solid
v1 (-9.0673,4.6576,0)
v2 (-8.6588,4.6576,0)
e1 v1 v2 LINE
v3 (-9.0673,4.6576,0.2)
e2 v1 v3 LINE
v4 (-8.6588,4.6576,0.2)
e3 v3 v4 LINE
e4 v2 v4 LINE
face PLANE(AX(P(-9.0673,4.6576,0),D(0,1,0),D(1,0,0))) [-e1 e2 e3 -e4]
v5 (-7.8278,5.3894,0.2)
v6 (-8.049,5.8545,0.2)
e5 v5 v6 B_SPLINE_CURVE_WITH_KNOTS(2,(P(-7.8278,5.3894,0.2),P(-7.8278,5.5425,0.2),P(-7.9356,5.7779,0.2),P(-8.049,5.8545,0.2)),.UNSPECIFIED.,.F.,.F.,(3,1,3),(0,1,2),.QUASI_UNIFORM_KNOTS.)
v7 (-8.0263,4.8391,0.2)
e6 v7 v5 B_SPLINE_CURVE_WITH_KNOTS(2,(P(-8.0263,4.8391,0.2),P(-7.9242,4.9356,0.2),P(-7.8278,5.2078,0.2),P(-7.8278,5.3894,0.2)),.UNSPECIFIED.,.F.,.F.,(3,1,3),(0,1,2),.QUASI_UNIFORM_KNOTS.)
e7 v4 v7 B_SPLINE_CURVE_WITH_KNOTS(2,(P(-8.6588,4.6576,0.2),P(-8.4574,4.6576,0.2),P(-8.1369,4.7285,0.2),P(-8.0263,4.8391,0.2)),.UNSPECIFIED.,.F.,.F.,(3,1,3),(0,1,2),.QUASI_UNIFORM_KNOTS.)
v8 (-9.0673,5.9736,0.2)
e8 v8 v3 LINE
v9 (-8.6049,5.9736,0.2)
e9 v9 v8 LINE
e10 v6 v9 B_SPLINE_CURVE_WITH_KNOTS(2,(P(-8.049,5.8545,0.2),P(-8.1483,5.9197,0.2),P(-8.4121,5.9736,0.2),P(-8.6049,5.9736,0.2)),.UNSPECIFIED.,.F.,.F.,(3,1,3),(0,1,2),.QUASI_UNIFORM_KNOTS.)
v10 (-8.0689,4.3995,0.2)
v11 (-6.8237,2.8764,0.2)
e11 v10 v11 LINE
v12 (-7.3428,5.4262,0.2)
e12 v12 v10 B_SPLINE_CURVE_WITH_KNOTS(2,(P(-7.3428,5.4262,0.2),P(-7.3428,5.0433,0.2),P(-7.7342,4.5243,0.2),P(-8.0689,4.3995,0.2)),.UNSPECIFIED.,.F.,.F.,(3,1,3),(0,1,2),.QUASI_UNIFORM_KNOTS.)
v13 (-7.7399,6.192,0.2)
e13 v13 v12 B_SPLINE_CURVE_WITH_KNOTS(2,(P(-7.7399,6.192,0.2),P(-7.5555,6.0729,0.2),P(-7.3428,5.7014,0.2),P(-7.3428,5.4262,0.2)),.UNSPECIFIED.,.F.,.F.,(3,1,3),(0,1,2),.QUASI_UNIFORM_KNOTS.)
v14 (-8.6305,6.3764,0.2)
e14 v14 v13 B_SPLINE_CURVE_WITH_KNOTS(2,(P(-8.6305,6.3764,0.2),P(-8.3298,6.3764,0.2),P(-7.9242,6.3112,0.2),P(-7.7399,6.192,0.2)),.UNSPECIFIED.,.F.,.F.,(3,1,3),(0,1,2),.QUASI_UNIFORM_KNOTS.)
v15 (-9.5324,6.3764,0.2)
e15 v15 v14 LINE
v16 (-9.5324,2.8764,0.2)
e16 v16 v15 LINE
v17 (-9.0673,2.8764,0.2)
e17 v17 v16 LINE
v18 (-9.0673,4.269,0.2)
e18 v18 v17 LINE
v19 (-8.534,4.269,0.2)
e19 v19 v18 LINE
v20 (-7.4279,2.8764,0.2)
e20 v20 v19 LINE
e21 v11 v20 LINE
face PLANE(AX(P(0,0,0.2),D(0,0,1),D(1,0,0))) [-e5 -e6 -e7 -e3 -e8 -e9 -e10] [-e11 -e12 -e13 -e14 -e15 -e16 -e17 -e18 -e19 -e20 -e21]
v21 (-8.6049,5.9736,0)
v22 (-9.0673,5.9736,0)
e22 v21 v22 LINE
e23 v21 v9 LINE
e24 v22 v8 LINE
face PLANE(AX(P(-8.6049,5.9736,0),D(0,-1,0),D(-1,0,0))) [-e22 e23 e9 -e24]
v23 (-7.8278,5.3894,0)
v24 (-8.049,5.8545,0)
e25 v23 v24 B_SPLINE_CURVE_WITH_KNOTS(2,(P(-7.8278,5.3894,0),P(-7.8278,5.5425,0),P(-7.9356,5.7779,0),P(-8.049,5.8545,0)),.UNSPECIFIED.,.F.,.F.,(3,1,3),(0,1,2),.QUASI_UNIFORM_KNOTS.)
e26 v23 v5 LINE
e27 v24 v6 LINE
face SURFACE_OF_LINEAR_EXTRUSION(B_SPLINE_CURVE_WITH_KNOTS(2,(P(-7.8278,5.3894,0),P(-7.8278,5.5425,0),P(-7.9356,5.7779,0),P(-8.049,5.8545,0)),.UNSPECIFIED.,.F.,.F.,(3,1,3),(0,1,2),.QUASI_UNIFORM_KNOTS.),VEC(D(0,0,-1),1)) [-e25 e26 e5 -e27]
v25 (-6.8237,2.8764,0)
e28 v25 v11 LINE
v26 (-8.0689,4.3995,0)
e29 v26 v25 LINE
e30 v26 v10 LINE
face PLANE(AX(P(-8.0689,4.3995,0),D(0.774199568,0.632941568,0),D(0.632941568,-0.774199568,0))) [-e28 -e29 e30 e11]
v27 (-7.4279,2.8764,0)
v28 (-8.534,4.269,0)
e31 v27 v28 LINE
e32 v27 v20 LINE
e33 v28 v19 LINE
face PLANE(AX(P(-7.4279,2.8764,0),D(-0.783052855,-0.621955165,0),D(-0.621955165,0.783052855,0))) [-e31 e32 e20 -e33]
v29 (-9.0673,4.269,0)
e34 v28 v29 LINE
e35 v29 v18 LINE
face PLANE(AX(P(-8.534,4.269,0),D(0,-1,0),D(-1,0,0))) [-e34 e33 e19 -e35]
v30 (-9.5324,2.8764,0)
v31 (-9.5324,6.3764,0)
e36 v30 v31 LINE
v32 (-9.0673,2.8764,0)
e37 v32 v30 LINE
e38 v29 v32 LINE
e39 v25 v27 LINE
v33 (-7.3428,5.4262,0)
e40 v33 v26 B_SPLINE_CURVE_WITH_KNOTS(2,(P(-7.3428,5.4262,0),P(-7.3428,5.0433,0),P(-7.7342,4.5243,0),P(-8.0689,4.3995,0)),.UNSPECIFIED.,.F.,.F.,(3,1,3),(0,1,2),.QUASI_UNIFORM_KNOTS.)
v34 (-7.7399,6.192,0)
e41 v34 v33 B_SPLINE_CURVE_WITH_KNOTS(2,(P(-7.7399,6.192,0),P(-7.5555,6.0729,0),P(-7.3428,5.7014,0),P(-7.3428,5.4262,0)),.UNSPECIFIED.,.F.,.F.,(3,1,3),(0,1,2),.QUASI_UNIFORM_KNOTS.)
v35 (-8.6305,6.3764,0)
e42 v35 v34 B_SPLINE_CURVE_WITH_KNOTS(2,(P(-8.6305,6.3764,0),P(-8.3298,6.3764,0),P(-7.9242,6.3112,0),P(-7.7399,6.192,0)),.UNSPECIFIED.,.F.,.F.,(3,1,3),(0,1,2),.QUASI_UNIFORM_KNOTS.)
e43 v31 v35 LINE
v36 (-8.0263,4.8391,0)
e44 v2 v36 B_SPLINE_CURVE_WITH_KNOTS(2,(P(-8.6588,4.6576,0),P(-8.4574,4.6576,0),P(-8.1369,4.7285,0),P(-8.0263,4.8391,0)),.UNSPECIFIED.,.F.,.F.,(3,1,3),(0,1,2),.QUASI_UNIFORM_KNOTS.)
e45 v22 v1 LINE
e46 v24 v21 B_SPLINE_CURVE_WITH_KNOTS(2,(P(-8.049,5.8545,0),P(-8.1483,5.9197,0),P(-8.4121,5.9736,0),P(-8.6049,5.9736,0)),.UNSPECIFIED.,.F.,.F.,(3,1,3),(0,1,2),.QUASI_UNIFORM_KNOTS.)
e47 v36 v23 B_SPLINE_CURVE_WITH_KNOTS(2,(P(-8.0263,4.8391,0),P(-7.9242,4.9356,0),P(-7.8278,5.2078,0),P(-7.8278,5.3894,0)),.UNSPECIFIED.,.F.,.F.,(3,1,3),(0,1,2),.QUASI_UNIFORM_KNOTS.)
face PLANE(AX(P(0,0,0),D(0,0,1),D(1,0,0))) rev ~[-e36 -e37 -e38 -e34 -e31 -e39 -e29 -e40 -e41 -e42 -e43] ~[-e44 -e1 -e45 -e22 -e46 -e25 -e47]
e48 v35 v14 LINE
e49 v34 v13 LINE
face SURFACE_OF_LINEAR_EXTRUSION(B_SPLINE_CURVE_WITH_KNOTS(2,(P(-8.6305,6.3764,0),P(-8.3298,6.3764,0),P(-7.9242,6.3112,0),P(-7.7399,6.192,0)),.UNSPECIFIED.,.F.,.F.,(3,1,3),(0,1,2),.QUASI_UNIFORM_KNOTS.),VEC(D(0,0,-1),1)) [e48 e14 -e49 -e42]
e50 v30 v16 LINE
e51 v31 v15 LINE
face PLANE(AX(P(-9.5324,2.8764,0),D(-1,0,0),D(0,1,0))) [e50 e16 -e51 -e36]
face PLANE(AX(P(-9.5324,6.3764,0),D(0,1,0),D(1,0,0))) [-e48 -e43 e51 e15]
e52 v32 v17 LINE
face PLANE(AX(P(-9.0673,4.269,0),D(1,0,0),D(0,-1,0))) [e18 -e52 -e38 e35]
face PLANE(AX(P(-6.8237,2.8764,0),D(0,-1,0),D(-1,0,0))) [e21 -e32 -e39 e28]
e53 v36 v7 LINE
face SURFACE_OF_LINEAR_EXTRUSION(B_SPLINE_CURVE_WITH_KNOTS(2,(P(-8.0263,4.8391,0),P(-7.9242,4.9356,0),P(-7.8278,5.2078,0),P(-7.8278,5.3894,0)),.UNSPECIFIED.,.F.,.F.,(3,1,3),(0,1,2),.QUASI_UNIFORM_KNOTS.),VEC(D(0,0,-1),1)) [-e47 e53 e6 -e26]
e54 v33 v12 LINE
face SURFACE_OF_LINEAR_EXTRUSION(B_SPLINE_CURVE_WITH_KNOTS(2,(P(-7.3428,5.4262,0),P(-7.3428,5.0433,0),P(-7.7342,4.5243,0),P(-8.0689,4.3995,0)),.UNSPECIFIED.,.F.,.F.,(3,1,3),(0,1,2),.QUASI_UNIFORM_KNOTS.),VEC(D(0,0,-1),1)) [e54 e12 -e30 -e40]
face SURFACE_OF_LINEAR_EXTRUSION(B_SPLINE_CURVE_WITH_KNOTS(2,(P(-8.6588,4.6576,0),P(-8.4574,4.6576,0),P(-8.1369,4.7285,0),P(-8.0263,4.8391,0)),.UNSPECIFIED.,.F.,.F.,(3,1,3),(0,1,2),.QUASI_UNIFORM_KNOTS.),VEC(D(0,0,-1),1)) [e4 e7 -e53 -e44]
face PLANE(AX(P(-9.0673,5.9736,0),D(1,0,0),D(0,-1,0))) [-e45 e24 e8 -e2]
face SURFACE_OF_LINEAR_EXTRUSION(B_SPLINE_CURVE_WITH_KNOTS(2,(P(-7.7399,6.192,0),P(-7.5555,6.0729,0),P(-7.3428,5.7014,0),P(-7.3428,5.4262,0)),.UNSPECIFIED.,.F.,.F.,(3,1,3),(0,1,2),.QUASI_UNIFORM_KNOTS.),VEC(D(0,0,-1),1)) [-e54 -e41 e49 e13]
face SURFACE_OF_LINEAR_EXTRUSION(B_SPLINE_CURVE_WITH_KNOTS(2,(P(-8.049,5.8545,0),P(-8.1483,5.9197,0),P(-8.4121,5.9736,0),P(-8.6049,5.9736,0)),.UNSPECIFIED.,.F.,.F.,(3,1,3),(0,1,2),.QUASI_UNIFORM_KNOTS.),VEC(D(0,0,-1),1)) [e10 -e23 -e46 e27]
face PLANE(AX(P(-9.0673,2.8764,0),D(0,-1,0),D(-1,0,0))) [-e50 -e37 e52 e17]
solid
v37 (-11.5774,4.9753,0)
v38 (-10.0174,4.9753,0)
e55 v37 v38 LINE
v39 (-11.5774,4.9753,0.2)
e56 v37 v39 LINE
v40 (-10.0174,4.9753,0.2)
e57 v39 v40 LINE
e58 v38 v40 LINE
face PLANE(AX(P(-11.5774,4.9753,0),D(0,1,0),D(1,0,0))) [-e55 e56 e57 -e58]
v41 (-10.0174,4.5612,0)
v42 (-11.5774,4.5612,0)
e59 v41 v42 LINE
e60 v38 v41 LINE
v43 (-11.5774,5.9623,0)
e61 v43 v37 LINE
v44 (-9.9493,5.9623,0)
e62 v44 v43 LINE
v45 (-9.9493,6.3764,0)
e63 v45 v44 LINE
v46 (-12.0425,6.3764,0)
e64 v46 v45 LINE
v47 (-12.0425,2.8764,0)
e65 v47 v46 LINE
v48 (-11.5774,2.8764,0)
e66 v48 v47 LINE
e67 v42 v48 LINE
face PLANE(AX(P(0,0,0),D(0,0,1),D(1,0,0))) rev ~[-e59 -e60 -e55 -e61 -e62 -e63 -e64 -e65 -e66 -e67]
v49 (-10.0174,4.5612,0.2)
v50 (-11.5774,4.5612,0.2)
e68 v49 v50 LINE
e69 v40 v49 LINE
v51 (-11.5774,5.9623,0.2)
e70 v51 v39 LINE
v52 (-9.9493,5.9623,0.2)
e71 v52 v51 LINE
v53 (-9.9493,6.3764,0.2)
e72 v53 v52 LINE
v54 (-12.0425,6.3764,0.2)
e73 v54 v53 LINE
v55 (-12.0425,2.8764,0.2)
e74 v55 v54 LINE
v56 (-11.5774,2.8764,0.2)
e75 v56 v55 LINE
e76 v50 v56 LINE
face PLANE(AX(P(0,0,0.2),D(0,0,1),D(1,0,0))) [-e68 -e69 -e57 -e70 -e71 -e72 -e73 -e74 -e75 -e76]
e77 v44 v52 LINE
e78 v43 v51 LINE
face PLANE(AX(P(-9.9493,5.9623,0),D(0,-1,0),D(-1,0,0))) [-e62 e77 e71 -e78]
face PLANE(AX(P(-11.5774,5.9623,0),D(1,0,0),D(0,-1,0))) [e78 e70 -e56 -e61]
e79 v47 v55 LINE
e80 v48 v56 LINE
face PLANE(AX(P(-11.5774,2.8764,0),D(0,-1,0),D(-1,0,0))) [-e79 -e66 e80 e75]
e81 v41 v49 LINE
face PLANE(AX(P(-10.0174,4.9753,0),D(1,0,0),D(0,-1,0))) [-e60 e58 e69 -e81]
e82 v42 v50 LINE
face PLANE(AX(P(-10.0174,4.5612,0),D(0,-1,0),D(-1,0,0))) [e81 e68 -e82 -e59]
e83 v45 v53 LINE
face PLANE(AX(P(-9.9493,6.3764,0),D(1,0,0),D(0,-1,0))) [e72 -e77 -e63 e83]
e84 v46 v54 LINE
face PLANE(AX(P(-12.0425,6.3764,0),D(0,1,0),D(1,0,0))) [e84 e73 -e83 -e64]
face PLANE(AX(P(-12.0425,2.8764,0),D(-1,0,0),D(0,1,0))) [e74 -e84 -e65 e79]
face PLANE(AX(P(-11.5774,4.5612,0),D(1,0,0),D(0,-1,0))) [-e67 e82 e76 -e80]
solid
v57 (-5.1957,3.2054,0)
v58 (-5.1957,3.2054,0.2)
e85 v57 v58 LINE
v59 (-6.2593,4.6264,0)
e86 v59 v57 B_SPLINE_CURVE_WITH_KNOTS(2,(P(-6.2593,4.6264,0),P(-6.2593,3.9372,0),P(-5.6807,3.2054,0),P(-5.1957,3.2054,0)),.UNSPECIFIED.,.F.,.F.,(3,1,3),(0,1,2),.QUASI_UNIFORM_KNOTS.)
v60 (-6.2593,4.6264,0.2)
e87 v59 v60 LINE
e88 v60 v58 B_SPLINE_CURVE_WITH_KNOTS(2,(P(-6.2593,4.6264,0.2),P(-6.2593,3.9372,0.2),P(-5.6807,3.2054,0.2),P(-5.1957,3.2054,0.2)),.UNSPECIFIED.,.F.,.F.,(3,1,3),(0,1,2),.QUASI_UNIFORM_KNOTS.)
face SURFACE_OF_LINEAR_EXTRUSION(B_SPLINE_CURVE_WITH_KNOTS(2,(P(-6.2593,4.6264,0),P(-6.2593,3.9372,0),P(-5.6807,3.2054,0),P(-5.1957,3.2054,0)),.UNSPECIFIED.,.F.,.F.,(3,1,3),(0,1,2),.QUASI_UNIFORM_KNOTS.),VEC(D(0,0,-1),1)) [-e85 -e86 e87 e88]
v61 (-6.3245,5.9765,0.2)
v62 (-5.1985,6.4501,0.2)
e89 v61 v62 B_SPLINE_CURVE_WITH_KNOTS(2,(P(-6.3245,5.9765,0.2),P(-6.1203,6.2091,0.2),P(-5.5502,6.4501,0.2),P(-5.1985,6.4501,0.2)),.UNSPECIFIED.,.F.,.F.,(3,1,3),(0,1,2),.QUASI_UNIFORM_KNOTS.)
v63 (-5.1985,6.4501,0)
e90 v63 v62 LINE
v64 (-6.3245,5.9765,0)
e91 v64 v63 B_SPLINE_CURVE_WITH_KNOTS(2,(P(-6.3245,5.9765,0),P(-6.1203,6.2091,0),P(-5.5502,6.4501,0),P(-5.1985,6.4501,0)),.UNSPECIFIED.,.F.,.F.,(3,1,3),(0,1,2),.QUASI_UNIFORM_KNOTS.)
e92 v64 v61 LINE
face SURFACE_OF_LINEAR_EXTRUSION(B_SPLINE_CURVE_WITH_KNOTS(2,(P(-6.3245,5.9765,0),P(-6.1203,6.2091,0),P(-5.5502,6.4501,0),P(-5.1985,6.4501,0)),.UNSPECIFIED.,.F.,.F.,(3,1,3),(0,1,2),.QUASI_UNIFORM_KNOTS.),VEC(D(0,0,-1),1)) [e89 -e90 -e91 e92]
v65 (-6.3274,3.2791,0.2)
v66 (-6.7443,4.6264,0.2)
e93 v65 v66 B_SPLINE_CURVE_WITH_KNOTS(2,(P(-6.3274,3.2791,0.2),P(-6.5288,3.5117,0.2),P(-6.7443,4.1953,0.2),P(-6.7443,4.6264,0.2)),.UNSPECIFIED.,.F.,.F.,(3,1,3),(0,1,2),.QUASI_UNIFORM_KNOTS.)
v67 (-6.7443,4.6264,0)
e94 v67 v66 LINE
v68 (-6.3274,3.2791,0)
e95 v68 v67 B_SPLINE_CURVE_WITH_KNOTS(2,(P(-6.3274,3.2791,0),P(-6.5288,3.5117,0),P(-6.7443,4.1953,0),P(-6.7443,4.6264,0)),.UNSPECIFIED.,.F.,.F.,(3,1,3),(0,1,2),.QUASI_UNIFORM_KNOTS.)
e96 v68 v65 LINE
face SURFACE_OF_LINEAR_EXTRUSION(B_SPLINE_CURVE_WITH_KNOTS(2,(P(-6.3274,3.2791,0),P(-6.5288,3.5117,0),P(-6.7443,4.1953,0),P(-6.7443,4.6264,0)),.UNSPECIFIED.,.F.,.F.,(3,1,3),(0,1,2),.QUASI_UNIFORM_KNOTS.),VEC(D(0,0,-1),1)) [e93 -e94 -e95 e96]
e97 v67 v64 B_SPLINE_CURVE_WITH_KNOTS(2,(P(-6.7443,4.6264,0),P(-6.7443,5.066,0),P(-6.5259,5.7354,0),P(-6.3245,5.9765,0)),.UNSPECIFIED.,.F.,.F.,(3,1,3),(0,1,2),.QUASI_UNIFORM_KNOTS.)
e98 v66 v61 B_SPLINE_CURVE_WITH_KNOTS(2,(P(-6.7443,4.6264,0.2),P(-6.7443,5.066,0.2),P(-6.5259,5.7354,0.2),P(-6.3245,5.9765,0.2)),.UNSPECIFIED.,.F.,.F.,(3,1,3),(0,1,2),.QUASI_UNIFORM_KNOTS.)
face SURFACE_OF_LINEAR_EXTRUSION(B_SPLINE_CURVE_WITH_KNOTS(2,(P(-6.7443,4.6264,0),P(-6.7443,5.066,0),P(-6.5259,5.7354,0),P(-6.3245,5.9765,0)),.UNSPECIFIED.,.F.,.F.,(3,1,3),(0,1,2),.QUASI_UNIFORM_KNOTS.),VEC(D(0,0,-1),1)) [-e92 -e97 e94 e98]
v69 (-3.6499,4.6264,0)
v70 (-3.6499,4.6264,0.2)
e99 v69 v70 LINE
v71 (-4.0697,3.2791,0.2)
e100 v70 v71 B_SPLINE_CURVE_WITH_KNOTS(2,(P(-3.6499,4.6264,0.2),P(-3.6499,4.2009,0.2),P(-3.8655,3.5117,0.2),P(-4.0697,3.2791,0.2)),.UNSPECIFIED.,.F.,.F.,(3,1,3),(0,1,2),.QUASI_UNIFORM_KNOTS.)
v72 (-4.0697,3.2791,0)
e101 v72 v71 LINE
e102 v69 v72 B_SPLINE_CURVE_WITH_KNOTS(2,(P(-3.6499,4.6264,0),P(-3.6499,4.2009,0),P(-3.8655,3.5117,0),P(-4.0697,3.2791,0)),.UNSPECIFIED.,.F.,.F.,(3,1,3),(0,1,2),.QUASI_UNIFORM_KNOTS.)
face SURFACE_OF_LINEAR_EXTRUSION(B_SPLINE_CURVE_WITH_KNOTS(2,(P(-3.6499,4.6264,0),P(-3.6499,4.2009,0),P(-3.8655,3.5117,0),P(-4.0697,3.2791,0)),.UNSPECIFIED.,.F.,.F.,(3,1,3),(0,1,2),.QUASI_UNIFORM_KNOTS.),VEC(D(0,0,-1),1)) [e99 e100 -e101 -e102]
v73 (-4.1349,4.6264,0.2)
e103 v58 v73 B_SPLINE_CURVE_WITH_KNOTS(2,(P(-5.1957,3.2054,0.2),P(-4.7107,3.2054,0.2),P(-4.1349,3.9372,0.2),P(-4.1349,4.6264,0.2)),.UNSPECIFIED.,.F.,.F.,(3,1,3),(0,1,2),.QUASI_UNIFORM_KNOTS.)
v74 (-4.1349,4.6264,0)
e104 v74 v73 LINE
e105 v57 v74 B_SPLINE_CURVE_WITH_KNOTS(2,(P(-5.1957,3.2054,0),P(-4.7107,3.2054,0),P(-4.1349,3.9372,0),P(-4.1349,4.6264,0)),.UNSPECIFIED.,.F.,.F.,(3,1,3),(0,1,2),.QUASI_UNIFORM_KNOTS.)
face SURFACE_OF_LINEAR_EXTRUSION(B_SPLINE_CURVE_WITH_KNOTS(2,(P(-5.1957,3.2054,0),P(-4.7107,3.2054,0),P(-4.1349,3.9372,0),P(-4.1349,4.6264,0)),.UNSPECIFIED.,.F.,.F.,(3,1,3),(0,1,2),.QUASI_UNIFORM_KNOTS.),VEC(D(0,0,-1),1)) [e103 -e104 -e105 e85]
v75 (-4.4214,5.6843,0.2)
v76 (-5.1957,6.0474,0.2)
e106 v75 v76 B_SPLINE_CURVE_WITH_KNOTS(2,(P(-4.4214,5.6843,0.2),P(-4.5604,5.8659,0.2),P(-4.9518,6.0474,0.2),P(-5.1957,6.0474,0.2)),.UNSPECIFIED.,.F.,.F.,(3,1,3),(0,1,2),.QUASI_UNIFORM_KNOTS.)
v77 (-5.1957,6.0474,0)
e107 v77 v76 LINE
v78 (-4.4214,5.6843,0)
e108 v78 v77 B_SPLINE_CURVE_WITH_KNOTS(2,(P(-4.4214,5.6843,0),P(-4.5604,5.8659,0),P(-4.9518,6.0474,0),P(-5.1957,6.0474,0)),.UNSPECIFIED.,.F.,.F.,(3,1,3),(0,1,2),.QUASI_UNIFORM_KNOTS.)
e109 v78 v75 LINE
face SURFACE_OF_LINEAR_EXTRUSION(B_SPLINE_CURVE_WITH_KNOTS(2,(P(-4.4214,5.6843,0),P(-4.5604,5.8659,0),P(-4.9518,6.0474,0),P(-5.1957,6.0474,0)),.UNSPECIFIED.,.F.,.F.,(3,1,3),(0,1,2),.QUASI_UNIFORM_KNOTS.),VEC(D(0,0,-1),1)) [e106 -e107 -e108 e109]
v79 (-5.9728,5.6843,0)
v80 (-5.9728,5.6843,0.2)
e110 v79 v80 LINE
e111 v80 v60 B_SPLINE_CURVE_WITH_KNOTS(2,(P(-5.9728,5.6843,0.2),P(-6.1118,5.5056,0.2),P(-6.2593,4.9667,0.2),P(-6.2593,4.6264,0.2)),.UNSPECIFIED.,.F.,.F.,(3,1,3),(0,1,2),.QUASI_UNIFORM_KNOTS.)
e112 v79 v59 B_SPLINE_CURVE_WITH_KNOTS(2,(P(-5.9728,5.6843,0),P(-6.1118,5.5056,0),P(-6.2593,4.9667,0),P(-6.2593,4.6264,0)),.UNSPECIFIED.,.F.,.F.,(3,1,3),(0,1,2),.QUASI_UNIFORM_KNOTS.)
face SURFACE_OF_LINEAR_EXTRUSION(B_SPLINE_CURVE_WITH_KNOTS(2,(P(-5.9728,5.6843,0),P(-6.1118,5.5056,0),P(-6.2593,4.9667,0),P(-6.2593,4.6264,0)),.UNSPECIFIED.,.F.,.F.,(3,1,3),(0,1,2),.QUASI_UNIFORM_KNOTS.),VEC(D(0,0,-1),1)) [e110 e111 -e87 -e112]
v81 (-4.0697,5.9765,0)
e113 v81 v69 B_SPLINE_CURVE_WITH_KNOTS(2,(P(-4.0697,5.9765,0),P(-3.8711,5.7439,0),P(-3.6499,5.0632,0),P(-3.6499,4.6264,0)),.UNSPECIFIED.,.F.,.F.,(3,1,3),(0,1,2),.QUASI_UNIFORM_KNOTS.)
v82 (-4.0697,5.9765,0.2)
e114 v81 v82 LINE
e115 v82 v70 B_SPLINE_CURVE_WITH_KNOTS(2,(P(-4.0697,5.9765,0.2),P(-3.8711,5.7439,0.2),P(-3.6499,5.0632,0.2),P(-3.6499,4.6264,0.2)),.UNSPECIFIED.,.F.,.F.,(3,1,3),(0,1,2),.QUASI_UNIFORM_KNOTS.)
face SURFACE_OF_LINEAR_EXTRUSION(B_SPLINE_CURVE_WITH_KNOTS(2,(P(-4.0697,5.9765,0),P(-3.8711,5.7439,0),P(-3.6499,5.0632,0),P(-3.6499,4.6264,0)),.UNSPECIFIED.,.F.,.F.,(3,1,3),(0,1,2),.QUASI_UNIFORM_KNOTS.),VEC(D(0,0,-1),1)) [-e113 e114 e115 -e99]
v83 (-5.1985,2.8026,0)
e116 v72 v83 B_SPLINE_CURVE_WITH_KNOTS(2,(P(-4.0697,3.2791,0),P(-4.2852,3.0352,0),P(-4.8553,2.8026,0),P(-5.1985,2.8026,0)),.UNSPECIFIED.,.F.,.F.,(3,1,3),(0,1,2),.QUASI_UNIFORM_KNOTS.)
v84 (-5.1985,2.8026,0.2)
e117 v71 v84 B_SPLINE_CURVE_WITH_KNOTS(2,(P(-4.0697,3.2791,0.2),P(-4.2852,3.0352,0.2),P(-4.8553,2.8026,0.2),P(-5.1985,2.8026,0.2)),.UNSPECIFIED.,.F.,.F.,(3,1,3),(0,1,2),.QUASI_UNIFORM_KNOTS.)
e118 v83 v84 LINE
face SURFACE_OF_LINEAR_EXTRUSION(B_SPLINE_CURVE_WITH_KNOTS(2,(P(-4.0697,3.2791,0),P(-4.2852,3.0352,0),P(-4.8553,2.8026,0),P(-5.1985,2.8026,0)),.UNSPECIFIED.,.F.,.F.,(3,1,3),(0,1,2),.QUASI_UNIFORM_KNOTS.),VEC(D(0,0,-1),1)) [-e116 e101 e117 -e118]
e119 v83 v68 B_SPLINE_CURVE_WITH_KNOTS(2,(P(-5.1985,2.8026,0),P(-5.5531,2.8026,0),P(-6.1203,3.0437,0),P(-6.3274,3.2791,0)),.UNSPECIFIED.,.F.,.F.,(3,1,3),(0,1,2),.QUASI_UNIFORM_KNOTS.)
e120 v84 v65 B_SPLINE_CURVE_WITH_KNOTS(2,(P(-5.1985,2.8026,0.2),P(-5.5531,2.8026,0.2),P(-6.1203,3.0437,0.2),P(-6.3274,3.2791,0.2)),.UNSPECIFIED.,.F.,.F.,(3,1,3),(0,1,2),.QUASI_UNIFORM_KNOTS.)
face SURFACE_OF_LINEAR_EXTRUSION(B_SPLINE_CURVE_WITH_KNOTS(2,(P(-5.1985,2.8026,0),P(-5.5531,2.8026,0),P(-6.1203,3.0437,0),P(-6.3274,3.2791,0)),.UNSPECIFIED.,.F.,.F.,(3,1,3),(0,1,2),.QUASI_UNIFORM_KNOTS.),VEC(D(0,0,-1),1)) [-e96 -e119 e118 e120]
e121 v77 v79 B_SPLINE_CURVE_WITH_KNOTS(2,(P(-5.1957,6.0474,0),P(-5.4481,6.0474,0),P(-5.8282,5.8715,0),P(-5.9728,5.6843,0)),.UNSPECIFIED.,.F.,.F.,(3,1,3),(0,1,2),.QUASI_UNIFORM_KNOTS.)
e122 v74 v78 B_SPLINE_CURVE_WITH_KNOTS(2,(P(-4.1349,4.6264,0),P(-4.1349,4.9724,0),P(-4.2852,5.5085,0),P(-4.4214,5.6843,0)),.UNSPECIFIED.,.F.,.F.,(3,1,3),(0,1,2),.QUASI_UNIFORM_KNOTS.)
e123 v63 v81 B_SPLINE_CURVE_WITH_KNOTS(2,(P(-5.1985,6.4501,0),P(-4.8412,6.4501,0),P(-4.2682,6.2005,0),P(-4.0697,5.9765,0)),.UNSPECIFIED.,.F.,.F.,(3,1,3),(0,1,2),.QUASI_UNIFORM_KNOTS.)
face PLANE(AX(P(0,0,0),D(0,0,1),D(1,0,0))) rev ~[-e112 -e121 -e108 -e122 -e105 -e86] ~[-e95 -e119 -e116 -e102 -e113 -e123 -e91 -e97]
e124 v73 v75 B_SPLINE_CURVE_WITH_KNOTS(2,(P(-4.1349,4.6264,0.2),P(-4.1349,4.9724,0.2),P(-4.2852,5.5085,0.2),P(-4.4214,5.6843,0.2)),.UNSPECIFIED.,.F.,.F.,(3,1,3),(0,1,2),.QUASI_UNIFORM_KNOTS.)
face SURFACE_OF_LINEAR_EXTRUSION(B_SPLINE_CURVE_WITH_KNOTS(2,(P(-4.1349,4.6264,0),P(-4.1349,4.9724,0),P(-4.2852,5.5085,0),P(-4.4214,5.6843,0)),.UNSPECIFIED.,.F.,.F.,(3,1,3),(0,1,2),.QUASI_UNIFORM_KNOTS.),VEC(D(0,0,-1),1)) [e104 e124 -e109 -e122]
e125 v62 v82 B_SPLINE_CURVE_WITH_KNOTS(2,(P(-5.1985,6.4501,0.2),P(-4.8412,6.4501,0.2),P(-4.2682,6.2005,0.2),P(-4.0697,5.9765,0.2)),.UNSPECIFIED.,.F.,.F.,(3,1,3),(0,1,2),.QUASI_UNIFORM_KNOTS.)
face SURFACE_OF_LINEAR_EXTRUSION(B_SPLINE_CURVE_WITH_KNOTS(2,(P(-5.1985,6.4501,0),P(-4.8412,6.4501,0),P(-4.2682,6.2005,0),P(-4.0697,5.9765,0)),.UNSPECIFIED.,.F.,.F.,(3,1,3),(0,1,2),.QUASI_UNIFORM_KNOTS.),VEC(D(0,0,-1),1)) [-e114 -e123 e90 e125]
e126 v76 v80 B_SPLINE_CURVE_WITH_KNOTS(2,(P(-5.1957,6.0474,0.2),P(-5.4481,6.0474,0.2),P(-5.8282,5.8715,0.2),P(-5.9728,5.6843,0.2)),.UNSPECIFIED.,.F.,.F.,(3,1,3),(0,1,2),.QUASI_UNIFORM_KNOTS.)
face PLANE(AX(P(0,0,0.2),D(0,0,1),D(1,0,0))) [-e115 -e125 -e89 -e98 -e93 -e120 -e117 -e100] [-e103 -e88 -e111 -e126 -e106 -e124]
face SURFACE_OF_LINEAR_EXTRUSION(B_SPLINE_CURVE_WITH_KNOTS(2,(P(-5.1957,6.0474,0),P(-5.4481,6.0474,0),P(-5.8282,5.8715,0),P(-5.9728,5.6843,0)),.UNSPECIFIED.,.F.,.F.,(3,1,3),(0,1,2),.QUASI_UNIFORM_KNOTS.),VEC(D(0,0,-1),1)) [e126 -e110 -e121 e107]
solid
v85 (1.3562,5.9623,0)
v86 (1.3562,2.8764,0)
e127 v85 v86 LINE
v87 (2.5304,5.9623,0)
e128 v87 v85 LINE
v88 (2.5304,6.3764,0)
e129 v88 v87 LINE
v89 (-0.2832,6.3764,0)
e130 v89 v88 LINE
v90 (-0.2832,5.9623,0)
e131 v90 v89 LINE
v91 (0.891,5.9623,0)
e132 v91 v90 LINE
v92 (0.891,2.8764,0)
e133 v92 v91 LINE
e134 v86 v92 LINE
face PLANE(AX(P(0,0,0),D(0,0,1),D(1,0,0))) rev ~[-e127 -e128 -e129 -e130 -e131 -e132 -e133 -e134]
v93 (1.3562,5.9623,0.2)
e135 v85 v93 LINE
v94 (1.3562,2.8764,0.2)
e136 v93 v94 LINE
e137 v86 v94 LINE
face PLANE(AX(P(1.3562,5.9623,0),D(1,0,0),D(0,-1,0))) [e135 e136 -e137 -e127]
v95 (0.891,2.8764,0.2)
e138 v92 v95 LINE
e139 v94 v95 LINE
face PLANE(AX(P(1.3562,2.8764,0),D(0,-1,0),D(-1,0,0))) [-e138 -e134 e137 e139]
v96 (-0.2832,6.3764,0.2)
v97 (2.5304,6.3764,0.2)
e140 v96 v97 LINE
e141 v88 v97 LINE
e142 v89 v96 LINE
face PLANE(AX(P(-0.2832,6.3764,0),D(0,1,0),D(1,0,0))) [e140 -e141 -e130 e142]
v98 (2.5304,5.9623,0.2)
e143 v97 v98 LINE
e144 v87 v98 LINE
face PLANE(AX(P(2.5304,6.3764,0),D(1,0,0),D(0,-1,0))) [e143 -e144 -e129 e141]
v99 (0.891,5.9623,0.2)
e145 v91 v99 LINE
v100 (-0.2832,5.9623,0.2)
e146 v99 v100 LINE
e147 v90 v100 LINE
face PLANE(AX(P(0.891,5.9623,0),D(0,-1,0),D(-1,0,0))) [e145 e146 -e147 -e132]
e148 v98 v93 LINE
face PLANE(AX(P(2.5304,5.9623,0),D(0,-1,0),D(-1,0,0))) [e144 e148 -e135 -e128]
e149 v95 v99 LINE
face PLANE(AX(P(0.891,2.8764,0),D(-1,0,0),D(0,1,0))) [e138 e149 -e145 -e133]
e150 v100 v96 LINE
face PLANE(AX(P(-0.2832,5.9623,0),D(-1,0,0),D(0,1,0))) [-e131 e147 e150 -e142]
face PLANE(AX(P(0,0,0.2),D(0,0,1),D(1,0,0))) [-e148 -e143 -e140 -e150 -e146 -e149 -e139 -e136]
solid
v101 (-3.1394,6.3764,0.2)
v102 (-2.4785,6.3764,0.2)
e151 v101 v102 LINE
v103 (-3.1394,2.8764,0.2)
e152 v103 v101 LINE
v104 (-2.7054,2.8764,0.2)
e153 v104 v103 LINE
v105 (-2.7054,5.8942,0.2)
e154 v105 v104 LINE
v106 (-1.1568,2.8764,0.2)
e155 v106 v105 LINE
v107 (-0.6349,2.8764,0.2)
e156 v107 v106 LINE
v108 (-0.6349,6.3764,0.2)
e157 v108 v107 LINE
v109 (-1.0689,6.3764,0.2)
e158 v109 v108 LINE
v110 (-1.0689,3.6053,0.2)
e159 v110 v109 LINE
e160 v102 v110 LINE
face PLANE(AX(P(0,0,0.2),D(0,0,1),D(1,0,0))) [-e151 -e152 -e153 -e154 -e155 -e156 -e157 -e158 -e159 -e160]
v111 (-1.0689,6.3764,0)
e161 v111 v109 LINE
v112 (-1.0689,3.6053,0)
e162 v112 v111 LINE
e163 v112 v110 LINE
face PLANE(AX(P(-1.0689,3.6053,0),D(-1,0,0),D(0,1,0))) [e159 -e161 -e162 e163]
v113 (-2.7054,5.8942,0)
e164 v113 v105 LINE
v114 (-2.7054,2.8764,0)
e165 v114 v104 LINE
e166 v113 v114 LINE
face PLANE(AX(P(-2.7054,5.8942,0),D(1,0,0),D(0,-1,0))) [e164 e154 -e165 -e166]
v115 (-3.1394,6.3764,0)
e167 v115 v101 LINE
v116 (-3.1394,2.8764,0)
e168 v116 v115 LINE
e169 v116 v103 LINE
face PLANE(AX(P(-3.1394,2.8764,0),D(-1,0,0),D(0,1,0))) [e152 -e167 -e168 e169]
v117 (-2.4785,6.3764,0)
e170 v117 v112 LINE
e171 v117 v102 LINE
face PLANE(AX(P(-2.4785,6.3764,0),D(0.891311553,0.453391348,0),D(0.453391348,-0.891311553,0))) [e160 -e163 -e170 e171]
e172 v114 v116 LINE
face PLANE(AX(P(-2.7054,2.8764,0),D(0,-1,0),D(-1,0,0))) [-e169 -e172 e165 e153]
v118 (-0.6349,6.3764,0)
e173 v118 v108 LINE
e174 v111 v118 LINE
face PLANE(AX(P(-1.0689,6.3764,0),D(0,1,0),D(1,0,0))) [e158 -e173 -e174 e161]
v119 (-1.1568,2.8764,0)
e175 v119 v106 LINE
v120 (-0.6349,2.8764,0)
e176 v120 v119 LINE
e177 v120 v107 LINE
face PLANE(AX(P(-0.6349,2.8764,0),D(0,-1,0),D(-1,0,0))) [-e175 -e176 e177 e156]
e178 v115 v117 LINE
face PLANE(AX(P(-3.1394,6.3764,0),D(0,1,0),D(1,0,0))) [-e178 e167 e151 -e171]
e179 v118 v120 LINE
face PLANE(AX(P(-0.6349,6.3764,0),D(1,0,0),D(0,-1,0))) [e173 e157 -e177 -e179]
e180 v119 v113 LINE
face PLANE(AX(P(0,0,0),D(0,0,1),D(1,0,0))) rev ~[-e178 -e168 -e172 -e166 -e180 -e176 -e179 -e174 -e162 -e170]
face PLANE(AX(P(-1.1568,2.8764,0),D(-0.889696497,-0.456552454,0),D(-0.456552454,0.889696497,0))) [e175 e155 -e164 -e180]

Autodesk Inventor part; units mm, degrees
ref_plane "YZ Plane" through (0, 0, 0) normal (1, 0, 0) x (0, 1, 0)
ref_plane "XZ Plane" through (0, 0, 0) normal (0, 1, 0) x (-1, 0, 0)
ref_plane "XY Plane" through (0, 0, 0) normal (0, 0, 1) x (1, 0, 0)
sketch "Sketch1" plane through (0, 0, 0) normal (0, 0, 1) x (1, 0, 0)
  line L0 (-12.3971, 6.4501) -> (24.1995, 6.4501) construction
  line L1 (24.1995, 6.4501) -> (24.1995, -12.763) construction
  line L2 (24.1995, -12.763) -> (-12.3971, -12.763) construction
  line L3 (-12.3971, -12.763) -> (-12.3971, 6.4501) construction
  line L4 (-9.9493, 5.9623) -> (-11.5774, 5.9623)
  line L5 (-11.5774, 5.9623) -> (-11.5774, 4.9753)
  line L6 (-11.5774, 4.9753) -> (-10.0174, 4.9753)
  line L7 (-10.0174, 4.9753) -> (-10.0174, 4.5612)
  line L8 (-10.0174, 4.5612) -> (-11.5774, 4.5612)
  line L9 (-11.5774, 4.5612) -> (-11.5774, 2.8764)
  line L10 (-11.5774, 2.8764) -> (-12.0425, 2.8764)
  line L11 (-12.0425, 2.8764) -> (-12.0425, 6.3764)
  line L12 (-12.0425, 6.3764) -> (-9.9493, 6.3764)
  line L13 (-9.9493, 6.3764) -> (-9.9493, 5.9623)
  line L14 (-6.8237, 2.8764) -> (-7.4279, 2.8764)
  line L15 (-7.4279, 2.8764) -> (-8.534, 4.269)
  line L16 (-8.534, 4.269) -> (-9.0673, 4.269)
  line L17 (-9.0673, 4.269) -> (-9.0673, 2.8764)
  line L18 (-9.0673, 2.8764) -> (-9.5324, 2.8764)
  line L19 (-9.5324, 2.8764) -> (-9.5324, 6.3764)
  line L20 (-9.5324, 6.3764) -> (-8.6305, 6.3764)
  spline S0 degree 2 poles (-8.6305, 6.3764) (-8.3298, 6.3764) (-7.9242, 6.3112) (-7.7399, 6.192) knots 0 0 0 1 2 2 2
  spline S1 degree 2 poles (-7.7399, 6.192) (-7.5555, 6.0729) (-7.3428, 5.7014) (-7.3428, 5.4262) knots 0 0 0 1 2 2 2
  spline S2 degree 2 poles (-7.3428, 5.4262) (-7.3428, 5.0433) (-7.7342, 4.5243) (-8.0689, 4.3995) knots 0 0 0 1 2 2 2
  line L21 (-8.0689, 4.3995) -> (-6.8237, 2.8764)
  spline S3 degree 2 poles (-7.8278, 5.3894) (-7.8278, 5.5425) (-7.9356, 5.7779) (-8.049, 5.8545) knots 0 0 0 1 2 2 2
  spline S4 degree 2 poles (-8.049, 5.8545) (-8.1483, 5.9197) (-8.4121, 5.9736) (-8.6049, 5.9736) knots 0 0 0 1 2 2 2
  line L22 (-8.6049, 5.9736) -> (-9.0673, 5.9736)
  line L23 (-9.0673, 5.9736) -> (-9.0673, 4.6576)
  line L24 (-9.0673, 4.6576) -> (-8.6588, 4.6576)
  spline S5 degree 2 poles (-8.6588, 4.6576) (-8.4574, 4.6576) (-8.1369, 4.7285) (-8.0263, 4.8391) knots 0 0 0 1 2 2 2
  spline S6 degree 2 poles (-8.0263, 4.8391) (-7.9242, 4.9356) (-7.8278, 5.2078) (-7.8278, 5.3894) knots 0 0 0 1 2 2 2
  spline S7 degree 2 poles (-4.0697, 5.9765) (-3.8711, 5.7439) (-3.6499, 5.0632) (-3.6499, 4.6264) knots 0 0 0 1 2 2 2
  spline S8 degree 2 poles (-3.6499, 4.6264) (-3.6499, 4.2009) (-3.8655, 3.5117) (-4.0697, 3.2791) knots 0 0 0 1 2 2 2
  spline S9 degree 2 poles (-4.0697, 3.2791) (-4.2852, 3.0352) (-4.8553, 2.8026) (-5.1985, 2.8026) knots 0 0 0 1 2 2 2
  spline S10 degree 2 poles (-5.1985, 2.8026) (-5.5531, 2.8026) (-6.1203, 3.0437) (-6.3274, 3.2791) knots 0 0 0 1 2 2 2
  spline S11 degree 2 poles (-6.3274, 3.2791) (-6.5288, 3.5117) (-6.7443, 4.1953) (-6.7443, 4.6264) knots 0 0 0 1 2 2 2
  spline S12 degree 2 poles (-6.7443, 4.6264) (-6.7443, 5.066) (-6.5259, 5.7354) (-6.3245, 5.9765) knots 0 0 0 1 2 2 2
  spline S13 degree 2 poles (-6.3245, 5.9765) (-6.1203, 6.2091) (-5.5502, 6.4501) (-5.1985, 6.4501) knots 0 0 0 1 2 2 2
  spline S14 degree 2 poles (-5.1985, 6.4501) (-4.8412, 6.4501) (-4.2682, 6.2005) (-4.0697, 5.9765) knots 0 0 0 1 2 2 2
  spline S15 degree 2 poles (-4.1349, 4.6264) (-4.1349, 4.9724) (-4.2852, 5.5085) (-4.4214, 5.6843) knots 0 0 0 1 2 2 2
  spline S16 degree 2 poles (-4.4214, 5.6843) (-4.5604, 5.8659) (-4.9518, 6.0474) (-5.1957, 6.0474) knots 0 0 0 1 2 2 2
  spline S17 degree 2 poles (-5.1957, 6.0474) (-5.4481, 6.0474) (-5.8282, 5.8715) (-5.9728, 5.6843) knots 0 0 0 1 2 2 2
  spline S18 degree 2 poles (-5.9728, 5.6843) (-6.1118, 5.5056) (-6.2593, 4.9667) (-6.2593, 4.6264) knots 0 0 0 1 2 2 2
  spline S19 degree 2 poles (-6.2593, 4.6264) (-6.2593, 3.9372) (-5.6807, 3.2054) (-5.1957, 3.2054) knots 0 0 0 1 2 2 2
  spline S20 degree 2 poles (-5.1957, 3.2054) (-4.7107, 3.2054) (-4.1349, 3.9372) (-4.1349, 4.6264) knots 0 0 0 1 2 2 2
  line L25 (-0.6349, 2.8764) -> (-1.1568, 2.8764)
  line L26 (-1.1568, 2.8764) -> (-2.7054, 5.8942)
  line L27 (-2.7054, 5.8942) -> (-2.7054, 2.8764)
  line L28 (-2.7054, 2.8764) -> (-3.1394, 2.8764)
  line L29 (-3.1394, 2.8764) -> (-3.1394, 6.3764)
  line L30 (-3.1394, 6.3764) -> (-2.4785, 6.3764)
  line L31 (-2.4785, 6.3764) -> (-1.0689, 3.6053)
  line L32 (-1.0689, 3.6053) -> (-1.0689, 6.3764)
  line L33 (-1.0689, 6.3764) -> (-0.6349, 6.3764)
  line L34 (-0.6349, 6.3764) -> (-0.6349, 2.8764)
  line L35 (0.891, 2.8764) -> (0.891, 5.9623)
  line L36 (0.891, 5.9623) -> (-0.2832, 5.9623)
  line L37 (-0.2832, 5.9623) -> (-0.2832, 6.3764)
  line L38 (-0.2832, 6.3764) -> (2.5304, 6.3764)
  line L39 (2.5304, 6.3764) -> (2.5304, 5.9623)
  line L40 (2.5304, 5.9623) -> (1.3562, 5.9623)
  line L41 (1.3562, 5.9623) -> (1.3562, 2.8764)
  line L42 (1.3562, 2.8764) -> (0.891, 2.8764)
  point P0 (0, 0)
extrude "FrontLabel" add sketch "Sketch1" along normal blind 0.2
properties part number "FrontLabel"
